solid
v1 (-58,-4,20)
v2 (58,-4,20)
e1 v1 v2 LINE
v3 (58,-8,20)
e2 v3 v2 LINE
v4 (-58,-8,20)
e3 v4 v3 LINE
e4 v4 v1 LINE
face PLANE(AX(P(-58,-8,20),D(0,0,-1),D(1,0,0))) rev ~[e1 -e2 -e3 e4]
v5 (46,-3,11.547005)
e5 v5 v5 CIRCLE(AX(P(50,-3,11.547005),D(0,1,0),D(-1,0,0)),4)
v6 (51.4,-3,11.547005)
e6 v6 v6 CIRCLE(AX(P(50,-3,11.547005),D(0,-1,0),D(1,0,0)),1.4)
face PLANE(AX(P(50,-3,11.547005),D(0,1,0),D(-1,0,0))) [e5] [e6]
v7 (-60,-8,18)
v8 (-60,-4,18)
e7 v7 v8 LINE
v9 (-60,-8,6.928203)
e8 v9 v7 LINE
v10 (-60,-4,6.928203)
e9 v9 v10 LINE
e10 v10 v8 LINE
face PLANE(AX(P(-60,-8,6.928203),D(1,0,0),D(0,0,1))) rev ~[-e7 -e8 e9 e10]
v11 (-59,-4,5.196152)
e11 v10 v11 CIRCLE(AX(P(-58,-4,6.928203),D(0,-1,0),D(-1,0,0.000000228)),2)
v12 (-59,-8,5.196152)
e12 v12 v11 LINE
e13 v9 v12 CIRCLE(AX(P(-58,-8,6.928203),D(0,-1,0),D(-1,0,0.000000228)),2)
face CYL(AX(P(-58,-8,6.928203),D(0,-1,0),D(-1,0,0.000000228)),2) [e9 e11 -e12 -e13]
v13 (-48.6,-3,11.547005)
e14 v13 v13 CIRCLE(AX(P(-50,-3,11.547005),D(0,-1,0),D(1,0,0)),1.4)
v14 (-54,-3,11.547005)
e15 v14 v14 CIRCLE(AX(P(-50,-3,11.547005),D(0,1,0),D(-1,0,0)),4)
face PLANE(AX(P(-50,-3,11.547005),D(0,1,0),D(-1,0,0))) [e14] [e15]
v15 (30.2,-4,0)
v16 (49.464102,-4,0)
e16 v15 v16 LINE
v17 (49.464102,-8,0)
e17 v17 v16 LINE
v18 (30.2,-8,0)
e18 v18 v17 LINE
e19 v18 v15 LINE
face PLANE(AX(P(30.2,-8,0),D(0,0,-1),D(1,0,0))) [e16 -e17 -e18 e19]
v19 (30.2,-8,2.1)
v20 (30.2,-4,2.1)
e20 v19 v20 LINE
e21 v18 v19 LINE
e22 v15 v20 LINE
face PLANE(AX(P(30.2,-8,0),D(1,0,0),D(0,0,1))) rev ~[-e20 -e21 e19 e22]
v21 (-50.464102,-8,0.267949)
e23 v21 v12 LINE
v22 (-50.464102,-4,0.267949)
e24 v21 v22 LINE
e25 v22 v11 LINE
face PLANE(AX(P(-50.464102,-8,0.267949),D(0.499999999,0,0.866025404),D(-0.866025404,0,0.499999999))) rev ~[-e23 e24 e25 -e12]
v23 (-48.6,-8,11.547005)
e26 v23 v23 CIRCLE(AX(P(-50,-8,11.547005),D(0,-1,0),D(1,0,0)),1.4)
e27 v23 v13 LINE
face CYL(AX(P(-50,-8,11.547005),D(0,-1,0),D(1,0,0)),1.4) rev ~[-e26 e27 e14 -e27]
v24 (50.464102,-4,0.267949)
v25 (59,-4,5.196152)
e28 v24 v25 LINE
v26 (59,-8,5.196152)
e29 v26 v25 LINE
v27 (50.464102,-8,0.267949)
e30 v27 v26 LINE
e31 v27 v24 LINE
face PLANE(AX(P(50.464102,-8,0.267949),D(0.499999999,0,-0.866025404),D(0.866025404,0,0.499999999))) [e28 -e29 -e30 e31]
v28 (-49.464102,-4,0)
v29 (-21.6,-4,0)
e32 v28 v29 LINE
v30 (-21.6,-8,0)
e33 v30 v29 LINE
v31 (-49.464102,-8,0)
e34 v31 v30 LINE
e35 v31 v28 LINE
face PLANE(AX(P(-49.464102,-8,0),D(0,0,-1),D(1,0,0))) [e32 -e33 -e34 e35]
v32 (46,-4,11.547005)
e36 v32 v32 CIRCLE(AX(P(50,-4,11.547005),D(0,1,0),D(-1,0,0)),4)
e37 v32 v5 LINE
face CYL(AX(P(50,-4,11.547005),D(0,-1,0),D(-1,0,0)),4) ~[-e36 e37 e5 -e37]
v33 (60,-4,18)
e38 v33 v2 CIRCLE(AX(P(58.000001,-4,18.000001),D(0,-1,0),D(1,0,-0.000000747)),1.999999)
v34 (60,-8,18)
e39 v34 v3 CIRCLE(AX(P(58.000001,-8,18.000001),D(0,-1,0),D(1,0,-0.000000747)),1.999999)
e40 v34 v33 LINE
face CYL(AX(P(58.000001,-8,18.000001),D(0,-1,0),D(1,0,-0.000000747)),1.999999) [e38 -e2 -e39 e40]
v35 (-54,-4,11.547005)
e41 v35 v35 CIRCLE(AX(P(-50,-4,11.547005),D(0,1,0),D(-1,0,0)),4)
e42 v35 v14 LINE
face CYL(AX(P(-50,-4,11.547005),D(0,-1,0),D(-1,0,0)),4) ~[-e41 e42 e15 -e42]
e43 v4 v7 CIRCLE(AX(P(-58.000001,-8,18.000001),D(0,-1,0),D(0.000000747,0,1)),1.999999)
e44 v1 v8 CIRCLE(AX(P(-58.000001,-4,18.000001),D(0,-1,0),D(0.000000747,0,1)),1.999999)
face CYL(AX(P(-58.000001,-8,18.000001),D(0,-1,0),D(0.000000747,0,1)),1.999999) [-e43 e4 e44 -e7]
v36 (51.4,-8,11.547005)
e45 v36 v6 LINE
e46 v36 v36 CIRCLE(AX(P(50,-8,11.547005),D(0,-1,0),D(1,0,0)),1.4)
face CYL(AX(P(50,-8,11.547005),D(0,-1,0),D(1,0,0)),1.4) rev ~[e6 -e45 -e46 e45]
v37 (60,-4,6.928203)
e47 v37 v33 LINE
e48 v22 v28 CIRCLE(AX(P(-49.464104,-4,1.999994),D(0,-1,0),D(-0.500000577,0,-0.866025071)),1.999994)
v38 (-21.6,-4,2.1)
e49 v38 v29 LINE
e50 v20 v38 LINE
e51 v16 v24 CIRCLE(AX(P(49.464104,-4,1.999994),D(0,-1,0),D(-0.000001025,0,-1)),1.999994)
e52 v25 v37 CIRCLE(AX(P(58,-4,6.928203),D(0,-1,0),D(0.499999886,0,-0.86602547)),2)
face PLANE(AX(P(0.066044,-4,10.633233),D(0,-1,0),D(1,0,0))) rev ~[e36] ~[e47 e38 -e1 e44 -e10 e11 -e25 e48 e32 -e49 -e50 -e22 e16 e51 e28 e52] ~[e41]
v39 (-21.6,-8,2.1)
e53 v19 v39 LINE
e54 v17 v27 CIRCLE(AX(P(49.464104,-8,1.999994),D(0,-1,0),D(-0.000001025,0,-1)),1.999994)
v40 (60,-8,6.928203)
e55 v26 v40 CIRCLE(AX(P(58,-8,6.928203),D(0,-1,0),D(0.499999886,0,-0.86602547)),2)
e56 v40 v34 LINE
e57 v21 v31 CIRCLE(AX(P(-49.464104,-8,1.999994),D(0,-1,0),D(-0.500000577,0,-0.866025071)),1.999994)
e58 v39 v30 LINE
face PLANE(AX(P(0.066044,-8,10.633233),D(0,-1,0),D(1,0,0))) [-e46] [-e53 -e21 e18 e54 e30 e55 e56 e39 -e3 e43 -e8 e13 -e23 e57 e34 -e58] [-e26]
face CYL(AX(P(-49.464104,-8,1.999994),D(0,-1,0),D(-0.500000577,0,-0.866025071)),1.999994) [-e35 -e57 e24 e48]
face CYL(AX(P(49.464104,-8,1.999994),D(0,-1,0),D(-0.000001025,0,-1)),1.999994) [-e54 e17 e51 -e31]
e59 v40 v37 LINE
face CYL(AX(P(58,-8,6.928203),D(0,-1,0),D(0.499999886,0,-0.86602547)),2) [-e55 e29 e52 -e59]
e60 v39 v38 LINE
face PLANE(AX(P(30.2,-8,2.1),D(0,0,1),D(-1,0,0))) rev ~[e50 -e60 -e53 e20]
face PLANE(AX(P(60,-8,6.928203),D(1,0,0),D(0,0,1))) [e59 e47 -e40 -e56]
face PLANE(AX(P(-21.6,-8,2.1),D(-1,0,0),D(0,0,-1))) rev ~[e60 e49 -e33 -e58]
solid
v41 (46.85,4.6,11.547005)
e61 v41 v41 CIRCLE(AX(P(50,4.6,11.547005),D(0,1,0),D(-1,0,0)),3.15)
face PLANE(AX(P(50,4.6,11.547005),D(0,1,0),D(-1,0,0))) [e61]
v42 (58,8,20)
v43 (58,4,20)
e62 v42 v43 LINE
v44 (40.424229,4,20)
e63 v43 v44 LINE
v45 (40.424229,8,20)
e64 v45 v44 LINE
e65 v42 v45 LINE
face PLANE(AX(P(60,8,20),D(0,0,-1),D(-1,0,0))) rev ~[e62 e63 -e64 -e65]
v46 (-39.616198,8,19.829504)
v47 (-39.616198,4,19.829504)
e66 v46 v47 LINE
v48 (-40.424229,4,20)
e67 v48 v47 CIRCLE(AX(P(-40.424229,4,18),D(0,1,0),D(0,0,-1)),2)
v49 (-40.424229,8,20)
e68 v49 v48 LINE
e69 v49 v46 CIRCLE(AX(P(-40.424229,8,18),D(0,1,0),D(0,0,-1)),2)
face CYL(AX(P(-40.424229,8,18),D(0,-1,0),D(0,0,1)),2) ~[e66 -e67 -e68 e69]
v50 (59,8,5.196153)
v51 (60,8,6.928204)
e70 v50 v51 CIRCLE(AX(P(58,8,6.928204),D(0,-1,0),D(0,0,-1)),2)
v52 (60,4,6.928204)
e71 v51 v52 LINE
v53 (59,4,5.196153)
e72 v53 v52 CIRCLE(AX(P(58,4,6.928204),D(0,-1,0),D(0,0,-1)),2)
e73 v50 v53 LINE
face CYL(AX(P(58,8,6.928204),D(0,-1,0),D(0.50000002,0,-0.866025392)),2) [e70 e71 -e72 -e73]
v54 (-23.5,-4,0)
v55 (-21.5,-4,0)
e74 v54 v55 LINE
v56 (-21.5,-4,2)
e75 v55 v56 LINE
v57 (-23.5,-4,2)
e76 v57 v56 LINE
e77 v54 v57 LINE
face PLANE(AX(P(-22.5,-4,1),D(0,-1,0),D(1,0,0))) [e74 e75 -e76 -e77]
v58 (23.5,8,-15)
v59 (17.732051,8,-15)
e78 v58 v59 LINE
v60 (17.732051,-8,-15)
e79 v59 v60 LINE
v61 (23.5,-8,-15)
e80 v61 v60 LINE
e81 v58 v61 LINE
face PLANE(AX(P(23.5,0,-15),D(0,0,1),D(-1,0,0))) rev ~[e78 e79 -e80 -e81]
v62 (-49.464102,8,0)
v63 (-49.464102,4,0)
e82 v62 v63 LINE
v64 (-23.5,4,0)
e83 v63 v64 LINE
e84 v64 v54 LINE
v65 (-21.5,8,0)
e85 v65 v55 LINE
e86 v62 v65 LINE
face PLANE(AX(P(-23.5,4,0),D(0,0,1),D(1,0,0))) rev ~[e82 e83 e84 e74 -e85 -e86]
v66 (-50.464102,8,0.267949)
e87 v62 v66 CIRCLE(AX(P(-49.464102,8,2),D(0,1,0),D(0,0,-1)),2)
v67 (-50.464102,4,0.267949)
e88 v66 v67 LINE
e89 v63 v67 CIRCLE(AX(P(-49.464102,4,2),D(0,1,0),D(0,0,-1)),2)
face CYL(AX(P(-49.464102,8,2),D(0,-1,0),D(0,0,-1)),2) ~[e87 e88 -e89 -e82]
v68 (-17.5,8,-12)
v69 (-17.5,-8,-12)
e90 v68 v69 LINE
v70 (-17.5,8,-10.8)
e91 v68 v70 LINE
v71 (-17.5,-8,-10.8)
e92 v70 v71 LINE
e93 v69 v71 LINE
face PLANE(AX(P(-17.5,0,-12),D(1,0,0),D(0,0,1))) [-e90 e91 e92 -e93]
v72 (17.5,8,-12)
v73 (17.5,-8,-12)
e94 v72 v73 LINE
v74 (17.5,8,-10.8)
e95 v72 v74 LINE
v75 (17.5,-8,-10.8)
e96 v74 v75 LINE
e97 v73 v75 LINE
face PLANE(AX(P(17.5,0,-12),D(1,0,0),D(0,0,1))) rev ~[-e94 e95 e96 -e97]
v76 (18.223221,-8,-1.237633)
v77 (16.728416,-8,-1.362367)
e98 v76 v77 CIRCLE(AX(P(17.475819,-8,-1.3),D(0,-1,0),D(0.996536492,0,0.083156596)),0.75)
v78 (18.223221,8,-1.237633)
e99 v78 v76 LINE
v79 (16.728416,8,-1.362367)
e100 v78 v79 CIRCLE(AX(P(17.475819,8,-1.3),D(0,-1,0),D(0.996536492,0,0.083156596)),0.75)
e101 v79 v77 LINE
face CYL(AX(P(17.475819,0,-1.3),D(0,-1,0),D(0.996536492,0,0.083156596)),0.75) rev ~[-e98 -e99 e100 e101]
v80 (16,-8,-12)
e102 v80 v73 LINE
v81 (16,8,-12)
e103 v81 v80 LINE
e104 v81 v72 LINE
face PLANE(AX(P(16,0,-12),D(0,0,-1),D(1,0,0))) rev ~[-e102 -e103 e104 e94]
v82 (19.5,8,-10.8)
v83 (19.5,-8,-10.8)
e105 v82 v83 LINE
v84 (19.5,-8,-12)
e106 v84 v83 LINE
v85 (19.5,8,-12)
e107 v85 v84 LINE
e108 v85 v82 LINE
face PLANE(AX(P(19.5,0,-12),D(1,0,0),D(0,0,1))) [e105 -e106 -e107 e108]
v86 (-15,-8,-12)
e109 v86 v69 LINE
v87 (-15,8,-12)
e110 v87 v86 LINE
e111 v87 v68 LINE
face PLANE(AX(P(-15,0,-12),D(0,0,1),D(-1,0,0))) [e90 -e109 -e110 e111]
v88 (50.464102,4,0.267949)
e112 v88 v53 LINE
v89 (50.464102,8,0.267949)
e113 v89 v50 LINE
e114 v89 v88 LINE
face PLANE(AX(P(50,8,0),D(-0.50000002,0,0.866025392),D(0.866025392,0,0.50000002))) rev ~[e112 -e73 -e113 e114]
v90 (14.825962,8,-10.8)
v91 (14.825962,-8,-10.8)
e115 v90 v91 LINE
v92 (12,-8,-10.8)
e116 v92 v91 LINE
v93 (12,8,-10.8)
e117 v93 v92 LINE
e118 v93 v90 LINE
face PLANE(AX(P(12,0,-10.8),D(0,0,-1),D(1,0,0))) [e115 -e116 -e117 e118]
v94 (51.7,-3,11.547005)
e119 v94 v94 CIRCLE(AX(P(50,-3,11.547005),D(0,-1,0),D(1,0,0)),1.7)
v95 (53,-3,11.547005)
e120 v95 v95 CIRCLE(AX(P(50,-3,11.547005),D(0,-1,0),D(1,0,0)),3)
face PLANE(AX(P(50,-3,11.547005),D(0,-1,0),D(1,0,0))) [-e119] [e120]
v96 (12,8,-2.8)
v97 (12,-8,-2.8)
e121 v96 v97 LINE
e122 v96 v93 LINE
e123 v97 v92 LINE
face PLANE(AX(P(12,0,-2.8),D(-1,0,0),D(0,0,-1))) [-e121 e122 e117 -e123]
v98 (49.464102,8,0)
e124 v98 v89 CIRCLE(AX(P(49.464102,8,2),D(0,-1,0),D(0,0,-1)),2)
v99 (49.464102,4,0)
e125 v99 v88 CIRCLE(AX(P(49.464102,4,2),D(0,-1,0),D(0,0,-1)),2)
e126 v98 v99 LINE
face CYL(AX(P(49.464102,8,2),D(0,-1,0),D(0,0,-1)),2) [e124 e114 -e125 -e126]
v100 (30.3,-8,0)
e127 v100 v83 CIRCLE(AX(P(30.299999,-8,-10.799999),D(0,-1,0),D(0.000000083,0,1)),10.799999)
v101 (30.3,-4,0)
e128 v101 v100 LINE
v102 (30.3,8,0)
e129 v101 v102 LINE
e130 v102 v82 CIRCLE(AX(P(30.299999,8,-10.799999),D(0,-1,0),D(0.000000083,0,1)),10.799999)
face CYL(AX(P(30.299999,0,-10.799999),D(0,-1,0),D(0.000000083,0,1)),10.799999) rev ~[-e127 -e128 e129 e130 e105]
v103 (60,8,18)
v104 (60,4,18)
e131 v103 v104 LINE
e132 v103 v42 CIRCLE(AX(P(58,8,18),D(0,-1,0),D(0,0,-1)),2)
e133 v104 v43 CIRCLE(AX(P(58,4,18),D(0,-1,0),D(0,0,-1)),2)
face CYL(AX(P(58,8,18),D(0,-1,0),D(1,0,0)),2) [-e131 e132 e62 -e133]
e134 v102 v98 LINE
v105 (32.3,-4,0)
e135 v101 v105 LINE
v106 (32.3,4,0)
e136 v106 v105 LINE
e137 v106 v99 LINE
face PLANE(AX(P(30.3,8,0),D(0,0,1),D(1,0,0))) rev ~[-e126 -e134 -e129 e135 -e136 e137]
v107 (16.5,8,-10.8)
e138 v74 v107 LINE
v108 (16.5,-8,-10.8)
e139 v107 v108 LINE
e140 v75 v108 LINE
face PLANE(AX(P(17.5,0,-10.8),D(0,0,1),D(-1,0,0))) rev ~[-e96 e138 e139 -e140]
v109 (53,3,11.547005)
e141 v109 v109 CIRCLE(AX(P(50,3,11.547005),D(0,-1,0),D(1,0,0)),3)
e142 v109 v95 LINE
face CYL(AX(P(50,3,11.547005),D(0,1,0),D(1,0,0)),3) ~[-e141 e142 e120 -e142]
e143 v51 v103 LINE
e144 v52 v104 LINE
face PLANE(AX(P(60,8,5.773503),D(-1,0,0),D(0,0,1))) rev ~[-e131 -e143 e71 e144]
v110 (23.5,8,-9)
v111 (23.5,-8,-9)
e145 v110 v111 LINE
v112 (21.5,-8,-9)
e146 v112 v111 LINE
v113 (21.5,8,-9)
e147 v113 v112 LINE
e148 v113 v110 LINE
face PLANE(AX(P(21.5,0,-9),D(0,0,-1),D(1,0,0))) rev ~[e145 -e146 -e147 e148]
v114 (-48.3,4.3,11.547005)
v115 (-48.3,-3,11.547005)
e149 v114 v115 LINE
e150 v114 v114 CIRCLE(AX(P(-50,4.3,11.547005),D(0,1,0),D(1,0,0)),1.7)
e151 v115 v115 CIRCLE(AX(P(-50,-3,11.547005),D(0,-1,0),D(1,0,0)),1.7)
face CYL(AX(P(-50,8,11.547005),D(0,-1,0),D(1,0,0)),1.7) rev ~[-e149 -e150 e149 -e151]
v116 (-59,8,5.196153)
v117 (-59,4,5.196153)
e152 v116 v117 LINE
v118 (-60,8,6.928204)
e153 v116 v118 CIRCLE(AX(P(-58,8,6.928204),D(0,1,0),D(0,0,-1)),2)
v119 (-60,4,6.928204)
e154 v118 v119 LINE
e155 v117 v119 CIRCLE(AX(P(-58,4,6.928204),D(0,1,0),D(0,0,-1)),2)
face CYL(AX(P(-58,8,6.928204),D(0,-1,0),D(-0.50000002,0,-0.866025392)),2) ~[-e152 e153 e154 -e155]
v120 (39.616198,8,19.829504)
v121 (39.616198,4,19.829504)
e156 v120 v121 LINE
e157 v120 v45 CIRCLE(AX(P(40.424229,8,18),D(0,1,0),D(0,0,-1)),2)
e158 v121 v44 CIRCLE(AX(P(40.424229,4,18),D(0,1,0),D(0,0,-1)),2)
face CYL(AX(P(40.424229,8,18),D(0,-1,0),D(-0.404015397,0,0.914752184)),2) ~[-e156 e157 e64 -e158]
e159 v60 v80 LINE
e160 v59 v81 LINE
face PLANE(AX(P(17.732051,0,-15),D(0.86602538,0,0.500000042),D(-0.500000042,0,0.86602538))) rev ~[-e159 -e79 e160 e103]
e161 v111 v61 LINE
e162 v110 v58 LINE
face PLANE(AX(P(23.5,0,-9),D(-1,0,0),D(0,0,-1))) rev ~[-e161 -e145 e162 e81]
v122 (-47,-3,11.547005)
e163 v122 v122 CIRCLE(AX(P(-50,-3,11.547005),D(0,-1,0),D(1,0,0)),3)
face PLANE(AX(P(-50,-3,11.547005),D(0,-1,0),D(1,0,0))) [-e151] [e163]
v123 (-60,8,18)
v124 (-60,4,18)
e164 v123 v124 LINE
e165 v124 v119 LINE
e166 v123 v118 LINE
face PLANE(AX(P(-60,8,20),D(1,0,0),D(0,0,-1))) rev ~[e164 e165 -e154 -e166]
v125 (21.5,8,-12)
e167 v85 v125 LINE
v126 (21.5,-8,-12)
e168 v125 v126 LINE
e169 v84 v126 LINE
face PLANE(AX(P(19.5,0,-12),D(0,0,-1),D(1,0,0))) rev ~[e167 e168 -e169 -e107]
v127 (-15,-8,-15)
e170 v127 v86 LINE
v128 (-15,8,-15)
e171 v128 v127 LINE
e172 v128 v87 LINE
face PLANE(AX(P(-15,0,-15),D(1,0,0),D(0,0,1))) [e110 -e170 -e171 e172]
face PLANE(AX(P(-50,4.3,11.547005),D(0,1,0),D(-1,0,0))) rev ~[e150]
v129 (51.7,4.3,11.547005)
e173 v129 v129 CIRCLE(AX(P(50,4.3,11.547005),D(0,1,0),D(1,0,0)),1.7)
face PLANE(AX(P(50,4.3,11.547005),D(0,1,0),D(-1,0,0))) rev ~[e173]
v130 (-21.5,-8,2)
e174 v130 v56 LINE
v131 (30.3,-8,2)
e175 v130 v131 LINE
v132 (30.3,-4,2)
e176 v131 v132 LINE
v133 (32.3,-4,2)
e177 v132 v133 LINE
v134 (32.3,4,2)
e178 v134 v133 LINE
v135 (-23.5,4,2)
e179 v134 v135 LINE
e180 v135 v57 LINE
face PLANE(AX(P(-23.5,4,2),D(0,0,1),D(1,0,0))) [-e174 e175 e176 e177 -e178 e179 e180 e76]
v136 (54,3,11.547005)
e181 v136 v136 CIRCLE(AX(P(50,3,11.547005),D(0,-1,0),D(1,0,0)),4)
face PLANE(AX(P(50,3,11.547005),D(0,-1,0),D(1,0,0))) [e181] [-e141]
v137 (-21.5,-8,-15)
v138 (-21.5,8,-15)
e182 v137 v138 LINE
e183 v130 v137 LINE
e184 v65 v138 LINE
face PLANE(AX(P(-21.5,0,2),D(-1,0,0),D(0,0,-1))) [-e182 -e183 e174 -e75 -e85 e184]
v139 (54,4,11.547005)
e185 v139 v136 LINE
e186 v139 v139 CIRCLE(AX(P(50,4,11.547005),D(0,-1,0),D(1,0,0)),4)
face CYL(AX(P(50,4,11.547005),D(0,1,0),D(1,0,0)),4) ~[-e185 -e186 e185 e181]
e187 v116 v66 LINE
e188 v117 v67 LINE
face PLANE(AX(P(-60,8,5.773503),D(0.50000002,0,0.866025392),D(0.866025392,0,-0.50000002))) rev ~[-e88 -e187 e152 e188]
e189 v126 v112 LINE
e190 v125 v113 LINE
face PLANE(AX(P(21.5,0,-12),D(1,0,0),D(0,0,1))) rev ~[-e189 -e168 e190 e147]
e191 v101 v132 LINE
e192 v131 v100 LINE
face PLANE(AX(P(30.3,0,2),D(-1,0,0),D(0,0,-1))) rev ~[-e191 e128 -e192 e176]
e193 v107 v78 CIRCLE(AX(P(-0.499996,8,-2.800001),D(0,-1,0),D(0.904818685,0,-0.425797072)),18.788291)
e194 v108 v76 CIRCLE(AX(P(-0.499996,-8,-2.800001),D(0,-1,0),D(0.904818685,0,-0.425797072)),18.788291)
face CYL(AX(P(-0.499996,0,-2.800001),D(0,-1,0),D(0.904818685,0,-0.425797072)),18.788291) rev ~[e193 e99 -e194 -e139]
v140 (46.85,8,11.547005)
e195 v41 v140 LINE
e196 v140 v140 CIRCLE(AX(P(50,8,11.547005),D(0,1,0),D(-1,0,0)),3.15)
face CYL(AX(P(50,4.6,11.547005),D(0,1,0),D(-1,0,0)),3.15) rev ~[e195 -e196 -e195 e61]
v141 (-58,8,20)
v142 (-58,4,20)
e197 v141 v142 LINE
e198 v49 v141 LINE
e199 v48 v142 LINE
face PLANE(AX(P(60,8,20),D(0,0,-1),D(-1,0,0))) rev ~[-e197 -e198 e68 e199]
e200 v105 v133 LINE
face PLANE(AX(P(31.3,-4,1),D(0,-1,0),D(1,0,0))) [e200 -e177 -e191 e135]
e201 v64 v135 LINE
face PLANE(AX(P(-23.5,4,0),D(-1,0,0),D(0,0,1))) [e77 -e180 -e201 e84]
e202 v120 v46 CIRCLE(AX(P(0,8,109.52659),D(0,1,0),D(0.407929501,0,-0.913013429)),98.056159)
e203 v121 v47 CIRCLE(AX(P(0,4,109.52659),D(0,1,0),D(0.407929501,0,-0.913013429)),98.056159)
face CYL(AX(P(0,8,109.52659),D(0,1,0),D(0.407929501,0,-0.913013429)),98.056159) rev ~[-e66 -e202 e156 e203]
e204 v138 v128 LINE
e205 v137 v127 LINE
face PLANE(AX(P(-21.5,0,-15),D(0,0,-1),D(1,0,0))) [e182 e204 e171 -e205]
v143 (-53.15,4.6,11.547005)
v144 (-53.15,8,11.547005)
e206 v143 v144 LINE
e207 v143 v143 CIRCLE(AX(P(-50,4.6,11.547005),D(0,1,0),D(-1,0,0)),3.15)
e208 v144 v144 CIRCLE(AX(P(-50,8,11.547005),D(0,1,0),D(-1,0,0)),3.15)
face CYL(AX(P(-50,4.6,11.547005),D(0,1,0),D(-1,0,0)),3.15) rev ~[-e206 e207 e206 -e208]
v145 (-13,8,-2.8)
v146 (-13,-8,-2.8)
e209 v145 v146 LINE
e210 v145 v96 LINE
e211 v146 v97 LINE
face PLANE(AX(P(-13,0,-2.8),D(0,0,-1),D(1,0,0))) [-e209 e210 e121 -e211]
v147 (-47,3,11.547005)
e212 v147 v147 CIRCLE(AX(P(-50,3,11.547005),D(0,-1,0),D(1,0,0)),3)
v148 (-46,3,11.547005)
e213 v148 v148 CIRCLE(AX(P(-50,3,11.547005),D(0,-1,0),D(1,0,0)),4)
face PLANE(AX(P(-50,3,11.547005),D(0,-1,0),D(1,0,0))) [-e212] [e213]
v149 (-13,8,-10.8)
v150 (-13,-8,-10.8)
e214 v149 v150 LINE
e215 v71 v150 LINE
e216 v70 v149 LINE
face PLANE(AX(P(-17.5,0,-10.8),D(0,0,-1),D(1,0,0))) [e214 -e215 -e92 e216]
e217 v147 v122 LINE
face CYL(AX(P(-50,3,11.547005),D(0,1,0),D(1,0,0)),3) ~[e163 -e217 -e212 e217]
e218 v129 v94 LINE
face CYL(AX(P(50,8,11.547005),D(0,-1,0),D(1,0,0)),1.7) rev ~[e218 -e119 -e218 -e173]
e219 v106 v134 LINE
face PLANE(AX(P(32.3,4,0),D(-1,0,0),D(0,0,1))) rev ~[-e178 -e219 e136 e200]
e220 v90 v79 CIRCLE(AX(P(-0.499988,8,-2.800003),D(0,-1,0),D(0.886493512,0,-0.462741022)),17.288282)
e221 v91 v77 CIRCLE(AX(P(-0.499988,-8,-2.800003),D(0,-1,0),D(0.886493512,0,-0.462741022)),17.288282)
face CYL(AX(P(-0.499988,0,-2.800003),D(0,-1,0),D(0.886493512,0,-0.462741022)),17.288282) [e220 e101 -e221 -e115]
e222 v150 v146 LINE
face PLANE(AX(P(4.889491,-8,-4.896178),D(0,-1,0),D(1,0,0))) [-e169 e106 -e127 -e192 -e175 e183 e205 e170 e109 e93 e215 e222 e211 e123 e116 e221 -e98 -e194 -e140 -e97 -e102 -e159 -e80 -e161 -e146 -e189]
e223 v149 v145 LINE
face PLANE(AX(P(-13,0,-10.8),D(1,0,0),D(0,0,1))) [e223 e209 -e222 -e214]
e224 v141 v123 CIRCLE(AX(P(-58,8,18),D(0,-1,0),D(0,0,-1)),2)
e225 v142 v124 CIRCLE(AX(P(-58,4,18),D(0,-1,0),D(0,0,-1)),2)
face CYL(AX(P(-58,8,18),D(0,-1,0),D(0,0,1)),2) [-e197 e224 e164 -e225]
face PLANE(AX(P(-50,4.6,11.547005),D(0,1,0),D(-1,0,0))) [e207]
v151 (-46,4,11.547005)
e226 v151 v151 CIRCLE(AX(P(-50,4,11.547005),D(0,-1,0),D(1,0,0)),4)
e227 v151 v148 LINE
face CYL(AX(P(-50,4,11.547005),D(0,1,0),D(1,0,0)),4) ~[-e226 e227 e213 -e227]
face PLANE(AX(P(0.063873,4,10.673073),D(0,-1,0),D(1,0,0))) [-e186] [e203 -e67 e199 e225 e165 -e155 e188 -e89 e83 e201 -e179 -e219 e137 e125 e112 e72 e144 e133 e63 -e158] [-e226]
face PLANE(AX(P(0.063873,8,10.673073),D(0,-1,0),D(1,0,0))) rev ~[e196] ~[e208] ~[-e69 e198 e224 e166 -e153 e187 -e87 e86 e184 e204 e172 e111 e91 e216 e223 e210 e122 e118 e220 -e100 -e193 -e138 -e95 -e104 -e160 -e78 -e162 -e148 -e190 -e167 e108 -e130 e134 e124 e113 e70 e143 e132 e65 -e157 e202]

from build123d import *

# Parameters (mm, degrees)
PAD001_DEPTH     = 4
SKETCH004_R      = 4
PAD002_DEPTH     = 1
FILLET_R         = 2
PAD_DEPTH        = 8
SKETCH007_R      = 3
PAD005_DEPTH     = 6
HOLE_D           = 3.4
HOLE_DEPTH       = 25
HOLE_CBORE_D     = 6.3
HOLE_CBORE_DEPTH = 3.4
SKETCH012_W      = 2
SKETCH012_H      = 2
PAD007_DEPTH     = 8
POCKET_DEPTH     = 16.001
FILLET001_R      = 2
SKETCH014_R      = 1.7
PAD008_DEPTH     = 0.3
PAD003_DEPTH     = 4
SKETCH006_R      = 4
PAD004_DEPTH     = 1
SKETCH010_R      = 1.4
HOLE001_DEPTH    = 5.001


with BuildPart() as base:
    # Sketch (on DatumPlane) → Pad001 (new body)
    with BuildSketch(Plane.XZ.offset(-8)):
        Polygon((-21.5, 0), (-21.5, 2), (30.3, 2), (30.3, 0), (50, 0), (60, 5.773503), (60, 20), (-60, 20), (-60, 5.773503), (-50, 0), align=None)
    extrude(amount=PAD001_DEPTH)

    # Sketch004 (on Face12 of Pad001) → Pad002 (join)
    with BuildSketch(Plane.XZ.offset(-4)):
        with Locations((-50, 11.547005)):
            Circle(SKETCH004_R)
        with Locations((50, 11.547005)):
            Circle(SKETCH004_R)
    extrude(amount=PAD002_DEPTH)

    # Fillet
    fillet_edges = [base.edges().sort_by_distance(p)[0] for p in [
        (-50, 6, 0),
        (-60, 6, 5.773503),
        (-60, 6, 20),
        (60, 6, 20),
        (60, 6, 5.773503),
        (50, 6, 0),
    ]]
    fillet(fillet_edges, radius=FILLET_R)


with BuildPart() as clip_and_base:
    # Sketch003 → Pad (new body, symmetric)
    with BuildSketch(Plane.XZ):
        with BuildLine():
            Line((-21.5, 0), (-21.5, -15))
            Line((-21.5, -15), (-15, -15))
            Line((-15, -15), (-15, -12))
            Line((-15, -12), (-17.5, -12))
            Line((-17.5, -12), (-17.5, -10.8))
            Line((-17.5, -10.8), (-13, -10.8))
            Line((-13, -10.8), (-13, -2.8))
            Line((-13, -2.8), (12, -2.8))
            Line((12, -2.8), (12, -10.8))
            Line((12, -10.8), (14.825962, -10.8))
            ThreePointArc((14.825962, -10.8), (16.447393, -6.216284), (16.728416, -1.362367))
            ThreePointArc((18.223221, -1.237633), (17.413451, -0.552598), (16.728416, -1.362367))
            ThreePointArc((16.5, -10.8), (17.990453, -6.132139), (18.223221, -1.237633))
            Line((17.5, -10.8), (16.5, -10.8))
            Line((17.5, -12), (17.5, -10.8))
            Line((16, -12), (17.5, -12))
            Line((17.732051, -15), (16, -12))
            Line((23.5, -15), (17.732051, -15))
            Line((23.5, -9), (23.5, -15))
            Line((21.5, -9), (23.5, -9))
            Line((21.5, -12), (21.5, -9))
            Line((19.5, -12), (21.5, -12))
            Line((19.5, -12), (19.5, -10.8))
            ThreePointArc((30.3, 0), (22.663246, -3.163247), (19.5, -10.8))
            Line((30.3, 2), (30.3, 0))
            Line((-21.5, 2), (30.3, 2))
            Line((-21.5, 0), (-21.5, 2))
        make_face()
    extrude(amount=PAD_DEPTH, both=True)

    # Boolean: union base
    add(base.part)

    # Sketch007 (on Face44 of Boolean) → Pad005 (join)
    with BuildSketch(Plane.XZ.offset(-3)):
        with Locations((-50, 11.547005)):
            Circle(SKETCH007_R)
        with Locations((50, 11.547005)):
            Circle(SKETCH007_R)
    extrude(amount=PAD005_DEPTH)

    # Hole
    with Locations(Plane(origin=(0, 8, 0), x_dir=(-1, 0, 0), z_dir=(0, 1, 0))):
        with Locations((-50, 11.547005), (50, 11.547005)):
            CounterBoreHole(HOLE_D / 2, HOLE_CBORE_D / 2, HOLE_CBORE_DEPTH, depth=HOLE_DEPTH)

    # Sketch012 (on Face7 of Hole) → Pad007 (join)
    with BuildSketch(Plane.XZ.offset(-4)):
        with Locations((-22.5, 1)):
            Rectangle(SKETCH012_W, SKETCH012_H)
        with Locations((31.3, 1)):
            Rectangle(SKETCH012_W, SKETCH012_H)
    extrude(amount=PAD007_DEPTH)

    # Sketch013 (on Face4 of Pad007) → Pocket (cut, through all)
    with BuildSketch(Plane(origin=(0, 8, 0), x_dir=(-1, 0, 0), z_dir=(0, 1, 0))):
        with BuildLine():
            ThreePointArc((-40, 20), (0, 11.470431), (40, 20))
            Line((-40, 20), (40, 20))
        make_face()
    extrude(amount=-POCKET_DEPTH, mode=Mode.SUBTRACT)

    # Fillet001
    fillet001_edges = [clip_and_base.edges().sort_by_distance(p)[0] for p in [
        (40, 6, 20),
        (-40, 6, 20),
    ]]
    fillet(fillet001_edges, radius=FILLET001_R)

    # Sketch014 (on Face53 of Fillet001) → Pad008 (join)
    with BuildSketch(Plane(origin=(0, 4.6, 0), x_dir=(-1, 0, 0), z_dir=(0, 1, 0))):
        with Locations((-50, 11.547005)):
            Circle(SKETCH014_R)
        with Locations((50, 11.547005)):
            Circle(SKETCH014_R)
    extrude(amount=-PAD008_DEPTH)


with BuildPart() as retainer:
    # Sketch005 (on ShapeBinder) → Pad003 (new body)
    with BuildSketch(Plane.XZ.offset(8)):
        with BuildLine():
            Line((-49.464102, 0), (-21.6, 0))
            Line((-21.6, 2.1), (-21.6, 0))
            Line((30.2, 2.1), (-21.6, 2.1))
            Line((30.2, 0), (30.2, 2.1))
            Line((30.2, 0), (49.464102, 0))
            ThreePointArc((49.464102, 0), (49.98174, 0.068148), (50.464102, 0.267949))
            Line((50.464102, 0.267949), (59, 5.196152))
            ThreePointArc((59, 5.196152), (59.732051, 5.928203), (60, 6.928203))
            Line((60, 6.928203), (60, 18))
            ThreePointArc((60, 18), (59.414214, 19.414214), (58, 20))
            Line((-58, 20), (58, 20))
            ThreePointArc((-58, 20), (-59.414214, 19.414214), (-60, 18))
            Line((-60, 6.928203), (-60, 18))
            ThreePointArc((-60, 6.928203), (-59.732051, 5.928203), (-59, 5.196152))
            Line((-50.464102, 0.267949), (-59, 5.196152))
            ThreePointArc((-50.464102, 0.267949), (-49.98174, 0.068148), (-49.464102, 0))
        make_face()
    extrude(amount=-PAD003_DEPTH)

    # Sketch006 (on Face18 of Pad003) → Pad004 (join)
    with BuildSketch(Plane(origin=(0, -4, 0), x_dir=(-1, 0, 0), z_dir=(0, 1, 0))):
        with Locations((-50, 11.547005)):
            Circle(SKETCH006_R)
        with Locations((50, 11.547005)):
            Circle(SKETCH006_R)
    extrude(amount=PAD004_DEPTH)

    # Sketch010 (on Face4 of Pad004) → Hole001 (cut, through all)
    with BuildSketch(Plane.XZ.offset(8)):
        with Locations((-50, 11.547005)):
            Circle(SKETCH010_R)
        with Locations((50, 11.547005)):
            Circle(SKETCH010_R)
    extrude(amount=-HOLE001_DEPTH, mode=Mode.SUBTRACT)


solid = Compound([clip_and_base.part, retainer.part])
